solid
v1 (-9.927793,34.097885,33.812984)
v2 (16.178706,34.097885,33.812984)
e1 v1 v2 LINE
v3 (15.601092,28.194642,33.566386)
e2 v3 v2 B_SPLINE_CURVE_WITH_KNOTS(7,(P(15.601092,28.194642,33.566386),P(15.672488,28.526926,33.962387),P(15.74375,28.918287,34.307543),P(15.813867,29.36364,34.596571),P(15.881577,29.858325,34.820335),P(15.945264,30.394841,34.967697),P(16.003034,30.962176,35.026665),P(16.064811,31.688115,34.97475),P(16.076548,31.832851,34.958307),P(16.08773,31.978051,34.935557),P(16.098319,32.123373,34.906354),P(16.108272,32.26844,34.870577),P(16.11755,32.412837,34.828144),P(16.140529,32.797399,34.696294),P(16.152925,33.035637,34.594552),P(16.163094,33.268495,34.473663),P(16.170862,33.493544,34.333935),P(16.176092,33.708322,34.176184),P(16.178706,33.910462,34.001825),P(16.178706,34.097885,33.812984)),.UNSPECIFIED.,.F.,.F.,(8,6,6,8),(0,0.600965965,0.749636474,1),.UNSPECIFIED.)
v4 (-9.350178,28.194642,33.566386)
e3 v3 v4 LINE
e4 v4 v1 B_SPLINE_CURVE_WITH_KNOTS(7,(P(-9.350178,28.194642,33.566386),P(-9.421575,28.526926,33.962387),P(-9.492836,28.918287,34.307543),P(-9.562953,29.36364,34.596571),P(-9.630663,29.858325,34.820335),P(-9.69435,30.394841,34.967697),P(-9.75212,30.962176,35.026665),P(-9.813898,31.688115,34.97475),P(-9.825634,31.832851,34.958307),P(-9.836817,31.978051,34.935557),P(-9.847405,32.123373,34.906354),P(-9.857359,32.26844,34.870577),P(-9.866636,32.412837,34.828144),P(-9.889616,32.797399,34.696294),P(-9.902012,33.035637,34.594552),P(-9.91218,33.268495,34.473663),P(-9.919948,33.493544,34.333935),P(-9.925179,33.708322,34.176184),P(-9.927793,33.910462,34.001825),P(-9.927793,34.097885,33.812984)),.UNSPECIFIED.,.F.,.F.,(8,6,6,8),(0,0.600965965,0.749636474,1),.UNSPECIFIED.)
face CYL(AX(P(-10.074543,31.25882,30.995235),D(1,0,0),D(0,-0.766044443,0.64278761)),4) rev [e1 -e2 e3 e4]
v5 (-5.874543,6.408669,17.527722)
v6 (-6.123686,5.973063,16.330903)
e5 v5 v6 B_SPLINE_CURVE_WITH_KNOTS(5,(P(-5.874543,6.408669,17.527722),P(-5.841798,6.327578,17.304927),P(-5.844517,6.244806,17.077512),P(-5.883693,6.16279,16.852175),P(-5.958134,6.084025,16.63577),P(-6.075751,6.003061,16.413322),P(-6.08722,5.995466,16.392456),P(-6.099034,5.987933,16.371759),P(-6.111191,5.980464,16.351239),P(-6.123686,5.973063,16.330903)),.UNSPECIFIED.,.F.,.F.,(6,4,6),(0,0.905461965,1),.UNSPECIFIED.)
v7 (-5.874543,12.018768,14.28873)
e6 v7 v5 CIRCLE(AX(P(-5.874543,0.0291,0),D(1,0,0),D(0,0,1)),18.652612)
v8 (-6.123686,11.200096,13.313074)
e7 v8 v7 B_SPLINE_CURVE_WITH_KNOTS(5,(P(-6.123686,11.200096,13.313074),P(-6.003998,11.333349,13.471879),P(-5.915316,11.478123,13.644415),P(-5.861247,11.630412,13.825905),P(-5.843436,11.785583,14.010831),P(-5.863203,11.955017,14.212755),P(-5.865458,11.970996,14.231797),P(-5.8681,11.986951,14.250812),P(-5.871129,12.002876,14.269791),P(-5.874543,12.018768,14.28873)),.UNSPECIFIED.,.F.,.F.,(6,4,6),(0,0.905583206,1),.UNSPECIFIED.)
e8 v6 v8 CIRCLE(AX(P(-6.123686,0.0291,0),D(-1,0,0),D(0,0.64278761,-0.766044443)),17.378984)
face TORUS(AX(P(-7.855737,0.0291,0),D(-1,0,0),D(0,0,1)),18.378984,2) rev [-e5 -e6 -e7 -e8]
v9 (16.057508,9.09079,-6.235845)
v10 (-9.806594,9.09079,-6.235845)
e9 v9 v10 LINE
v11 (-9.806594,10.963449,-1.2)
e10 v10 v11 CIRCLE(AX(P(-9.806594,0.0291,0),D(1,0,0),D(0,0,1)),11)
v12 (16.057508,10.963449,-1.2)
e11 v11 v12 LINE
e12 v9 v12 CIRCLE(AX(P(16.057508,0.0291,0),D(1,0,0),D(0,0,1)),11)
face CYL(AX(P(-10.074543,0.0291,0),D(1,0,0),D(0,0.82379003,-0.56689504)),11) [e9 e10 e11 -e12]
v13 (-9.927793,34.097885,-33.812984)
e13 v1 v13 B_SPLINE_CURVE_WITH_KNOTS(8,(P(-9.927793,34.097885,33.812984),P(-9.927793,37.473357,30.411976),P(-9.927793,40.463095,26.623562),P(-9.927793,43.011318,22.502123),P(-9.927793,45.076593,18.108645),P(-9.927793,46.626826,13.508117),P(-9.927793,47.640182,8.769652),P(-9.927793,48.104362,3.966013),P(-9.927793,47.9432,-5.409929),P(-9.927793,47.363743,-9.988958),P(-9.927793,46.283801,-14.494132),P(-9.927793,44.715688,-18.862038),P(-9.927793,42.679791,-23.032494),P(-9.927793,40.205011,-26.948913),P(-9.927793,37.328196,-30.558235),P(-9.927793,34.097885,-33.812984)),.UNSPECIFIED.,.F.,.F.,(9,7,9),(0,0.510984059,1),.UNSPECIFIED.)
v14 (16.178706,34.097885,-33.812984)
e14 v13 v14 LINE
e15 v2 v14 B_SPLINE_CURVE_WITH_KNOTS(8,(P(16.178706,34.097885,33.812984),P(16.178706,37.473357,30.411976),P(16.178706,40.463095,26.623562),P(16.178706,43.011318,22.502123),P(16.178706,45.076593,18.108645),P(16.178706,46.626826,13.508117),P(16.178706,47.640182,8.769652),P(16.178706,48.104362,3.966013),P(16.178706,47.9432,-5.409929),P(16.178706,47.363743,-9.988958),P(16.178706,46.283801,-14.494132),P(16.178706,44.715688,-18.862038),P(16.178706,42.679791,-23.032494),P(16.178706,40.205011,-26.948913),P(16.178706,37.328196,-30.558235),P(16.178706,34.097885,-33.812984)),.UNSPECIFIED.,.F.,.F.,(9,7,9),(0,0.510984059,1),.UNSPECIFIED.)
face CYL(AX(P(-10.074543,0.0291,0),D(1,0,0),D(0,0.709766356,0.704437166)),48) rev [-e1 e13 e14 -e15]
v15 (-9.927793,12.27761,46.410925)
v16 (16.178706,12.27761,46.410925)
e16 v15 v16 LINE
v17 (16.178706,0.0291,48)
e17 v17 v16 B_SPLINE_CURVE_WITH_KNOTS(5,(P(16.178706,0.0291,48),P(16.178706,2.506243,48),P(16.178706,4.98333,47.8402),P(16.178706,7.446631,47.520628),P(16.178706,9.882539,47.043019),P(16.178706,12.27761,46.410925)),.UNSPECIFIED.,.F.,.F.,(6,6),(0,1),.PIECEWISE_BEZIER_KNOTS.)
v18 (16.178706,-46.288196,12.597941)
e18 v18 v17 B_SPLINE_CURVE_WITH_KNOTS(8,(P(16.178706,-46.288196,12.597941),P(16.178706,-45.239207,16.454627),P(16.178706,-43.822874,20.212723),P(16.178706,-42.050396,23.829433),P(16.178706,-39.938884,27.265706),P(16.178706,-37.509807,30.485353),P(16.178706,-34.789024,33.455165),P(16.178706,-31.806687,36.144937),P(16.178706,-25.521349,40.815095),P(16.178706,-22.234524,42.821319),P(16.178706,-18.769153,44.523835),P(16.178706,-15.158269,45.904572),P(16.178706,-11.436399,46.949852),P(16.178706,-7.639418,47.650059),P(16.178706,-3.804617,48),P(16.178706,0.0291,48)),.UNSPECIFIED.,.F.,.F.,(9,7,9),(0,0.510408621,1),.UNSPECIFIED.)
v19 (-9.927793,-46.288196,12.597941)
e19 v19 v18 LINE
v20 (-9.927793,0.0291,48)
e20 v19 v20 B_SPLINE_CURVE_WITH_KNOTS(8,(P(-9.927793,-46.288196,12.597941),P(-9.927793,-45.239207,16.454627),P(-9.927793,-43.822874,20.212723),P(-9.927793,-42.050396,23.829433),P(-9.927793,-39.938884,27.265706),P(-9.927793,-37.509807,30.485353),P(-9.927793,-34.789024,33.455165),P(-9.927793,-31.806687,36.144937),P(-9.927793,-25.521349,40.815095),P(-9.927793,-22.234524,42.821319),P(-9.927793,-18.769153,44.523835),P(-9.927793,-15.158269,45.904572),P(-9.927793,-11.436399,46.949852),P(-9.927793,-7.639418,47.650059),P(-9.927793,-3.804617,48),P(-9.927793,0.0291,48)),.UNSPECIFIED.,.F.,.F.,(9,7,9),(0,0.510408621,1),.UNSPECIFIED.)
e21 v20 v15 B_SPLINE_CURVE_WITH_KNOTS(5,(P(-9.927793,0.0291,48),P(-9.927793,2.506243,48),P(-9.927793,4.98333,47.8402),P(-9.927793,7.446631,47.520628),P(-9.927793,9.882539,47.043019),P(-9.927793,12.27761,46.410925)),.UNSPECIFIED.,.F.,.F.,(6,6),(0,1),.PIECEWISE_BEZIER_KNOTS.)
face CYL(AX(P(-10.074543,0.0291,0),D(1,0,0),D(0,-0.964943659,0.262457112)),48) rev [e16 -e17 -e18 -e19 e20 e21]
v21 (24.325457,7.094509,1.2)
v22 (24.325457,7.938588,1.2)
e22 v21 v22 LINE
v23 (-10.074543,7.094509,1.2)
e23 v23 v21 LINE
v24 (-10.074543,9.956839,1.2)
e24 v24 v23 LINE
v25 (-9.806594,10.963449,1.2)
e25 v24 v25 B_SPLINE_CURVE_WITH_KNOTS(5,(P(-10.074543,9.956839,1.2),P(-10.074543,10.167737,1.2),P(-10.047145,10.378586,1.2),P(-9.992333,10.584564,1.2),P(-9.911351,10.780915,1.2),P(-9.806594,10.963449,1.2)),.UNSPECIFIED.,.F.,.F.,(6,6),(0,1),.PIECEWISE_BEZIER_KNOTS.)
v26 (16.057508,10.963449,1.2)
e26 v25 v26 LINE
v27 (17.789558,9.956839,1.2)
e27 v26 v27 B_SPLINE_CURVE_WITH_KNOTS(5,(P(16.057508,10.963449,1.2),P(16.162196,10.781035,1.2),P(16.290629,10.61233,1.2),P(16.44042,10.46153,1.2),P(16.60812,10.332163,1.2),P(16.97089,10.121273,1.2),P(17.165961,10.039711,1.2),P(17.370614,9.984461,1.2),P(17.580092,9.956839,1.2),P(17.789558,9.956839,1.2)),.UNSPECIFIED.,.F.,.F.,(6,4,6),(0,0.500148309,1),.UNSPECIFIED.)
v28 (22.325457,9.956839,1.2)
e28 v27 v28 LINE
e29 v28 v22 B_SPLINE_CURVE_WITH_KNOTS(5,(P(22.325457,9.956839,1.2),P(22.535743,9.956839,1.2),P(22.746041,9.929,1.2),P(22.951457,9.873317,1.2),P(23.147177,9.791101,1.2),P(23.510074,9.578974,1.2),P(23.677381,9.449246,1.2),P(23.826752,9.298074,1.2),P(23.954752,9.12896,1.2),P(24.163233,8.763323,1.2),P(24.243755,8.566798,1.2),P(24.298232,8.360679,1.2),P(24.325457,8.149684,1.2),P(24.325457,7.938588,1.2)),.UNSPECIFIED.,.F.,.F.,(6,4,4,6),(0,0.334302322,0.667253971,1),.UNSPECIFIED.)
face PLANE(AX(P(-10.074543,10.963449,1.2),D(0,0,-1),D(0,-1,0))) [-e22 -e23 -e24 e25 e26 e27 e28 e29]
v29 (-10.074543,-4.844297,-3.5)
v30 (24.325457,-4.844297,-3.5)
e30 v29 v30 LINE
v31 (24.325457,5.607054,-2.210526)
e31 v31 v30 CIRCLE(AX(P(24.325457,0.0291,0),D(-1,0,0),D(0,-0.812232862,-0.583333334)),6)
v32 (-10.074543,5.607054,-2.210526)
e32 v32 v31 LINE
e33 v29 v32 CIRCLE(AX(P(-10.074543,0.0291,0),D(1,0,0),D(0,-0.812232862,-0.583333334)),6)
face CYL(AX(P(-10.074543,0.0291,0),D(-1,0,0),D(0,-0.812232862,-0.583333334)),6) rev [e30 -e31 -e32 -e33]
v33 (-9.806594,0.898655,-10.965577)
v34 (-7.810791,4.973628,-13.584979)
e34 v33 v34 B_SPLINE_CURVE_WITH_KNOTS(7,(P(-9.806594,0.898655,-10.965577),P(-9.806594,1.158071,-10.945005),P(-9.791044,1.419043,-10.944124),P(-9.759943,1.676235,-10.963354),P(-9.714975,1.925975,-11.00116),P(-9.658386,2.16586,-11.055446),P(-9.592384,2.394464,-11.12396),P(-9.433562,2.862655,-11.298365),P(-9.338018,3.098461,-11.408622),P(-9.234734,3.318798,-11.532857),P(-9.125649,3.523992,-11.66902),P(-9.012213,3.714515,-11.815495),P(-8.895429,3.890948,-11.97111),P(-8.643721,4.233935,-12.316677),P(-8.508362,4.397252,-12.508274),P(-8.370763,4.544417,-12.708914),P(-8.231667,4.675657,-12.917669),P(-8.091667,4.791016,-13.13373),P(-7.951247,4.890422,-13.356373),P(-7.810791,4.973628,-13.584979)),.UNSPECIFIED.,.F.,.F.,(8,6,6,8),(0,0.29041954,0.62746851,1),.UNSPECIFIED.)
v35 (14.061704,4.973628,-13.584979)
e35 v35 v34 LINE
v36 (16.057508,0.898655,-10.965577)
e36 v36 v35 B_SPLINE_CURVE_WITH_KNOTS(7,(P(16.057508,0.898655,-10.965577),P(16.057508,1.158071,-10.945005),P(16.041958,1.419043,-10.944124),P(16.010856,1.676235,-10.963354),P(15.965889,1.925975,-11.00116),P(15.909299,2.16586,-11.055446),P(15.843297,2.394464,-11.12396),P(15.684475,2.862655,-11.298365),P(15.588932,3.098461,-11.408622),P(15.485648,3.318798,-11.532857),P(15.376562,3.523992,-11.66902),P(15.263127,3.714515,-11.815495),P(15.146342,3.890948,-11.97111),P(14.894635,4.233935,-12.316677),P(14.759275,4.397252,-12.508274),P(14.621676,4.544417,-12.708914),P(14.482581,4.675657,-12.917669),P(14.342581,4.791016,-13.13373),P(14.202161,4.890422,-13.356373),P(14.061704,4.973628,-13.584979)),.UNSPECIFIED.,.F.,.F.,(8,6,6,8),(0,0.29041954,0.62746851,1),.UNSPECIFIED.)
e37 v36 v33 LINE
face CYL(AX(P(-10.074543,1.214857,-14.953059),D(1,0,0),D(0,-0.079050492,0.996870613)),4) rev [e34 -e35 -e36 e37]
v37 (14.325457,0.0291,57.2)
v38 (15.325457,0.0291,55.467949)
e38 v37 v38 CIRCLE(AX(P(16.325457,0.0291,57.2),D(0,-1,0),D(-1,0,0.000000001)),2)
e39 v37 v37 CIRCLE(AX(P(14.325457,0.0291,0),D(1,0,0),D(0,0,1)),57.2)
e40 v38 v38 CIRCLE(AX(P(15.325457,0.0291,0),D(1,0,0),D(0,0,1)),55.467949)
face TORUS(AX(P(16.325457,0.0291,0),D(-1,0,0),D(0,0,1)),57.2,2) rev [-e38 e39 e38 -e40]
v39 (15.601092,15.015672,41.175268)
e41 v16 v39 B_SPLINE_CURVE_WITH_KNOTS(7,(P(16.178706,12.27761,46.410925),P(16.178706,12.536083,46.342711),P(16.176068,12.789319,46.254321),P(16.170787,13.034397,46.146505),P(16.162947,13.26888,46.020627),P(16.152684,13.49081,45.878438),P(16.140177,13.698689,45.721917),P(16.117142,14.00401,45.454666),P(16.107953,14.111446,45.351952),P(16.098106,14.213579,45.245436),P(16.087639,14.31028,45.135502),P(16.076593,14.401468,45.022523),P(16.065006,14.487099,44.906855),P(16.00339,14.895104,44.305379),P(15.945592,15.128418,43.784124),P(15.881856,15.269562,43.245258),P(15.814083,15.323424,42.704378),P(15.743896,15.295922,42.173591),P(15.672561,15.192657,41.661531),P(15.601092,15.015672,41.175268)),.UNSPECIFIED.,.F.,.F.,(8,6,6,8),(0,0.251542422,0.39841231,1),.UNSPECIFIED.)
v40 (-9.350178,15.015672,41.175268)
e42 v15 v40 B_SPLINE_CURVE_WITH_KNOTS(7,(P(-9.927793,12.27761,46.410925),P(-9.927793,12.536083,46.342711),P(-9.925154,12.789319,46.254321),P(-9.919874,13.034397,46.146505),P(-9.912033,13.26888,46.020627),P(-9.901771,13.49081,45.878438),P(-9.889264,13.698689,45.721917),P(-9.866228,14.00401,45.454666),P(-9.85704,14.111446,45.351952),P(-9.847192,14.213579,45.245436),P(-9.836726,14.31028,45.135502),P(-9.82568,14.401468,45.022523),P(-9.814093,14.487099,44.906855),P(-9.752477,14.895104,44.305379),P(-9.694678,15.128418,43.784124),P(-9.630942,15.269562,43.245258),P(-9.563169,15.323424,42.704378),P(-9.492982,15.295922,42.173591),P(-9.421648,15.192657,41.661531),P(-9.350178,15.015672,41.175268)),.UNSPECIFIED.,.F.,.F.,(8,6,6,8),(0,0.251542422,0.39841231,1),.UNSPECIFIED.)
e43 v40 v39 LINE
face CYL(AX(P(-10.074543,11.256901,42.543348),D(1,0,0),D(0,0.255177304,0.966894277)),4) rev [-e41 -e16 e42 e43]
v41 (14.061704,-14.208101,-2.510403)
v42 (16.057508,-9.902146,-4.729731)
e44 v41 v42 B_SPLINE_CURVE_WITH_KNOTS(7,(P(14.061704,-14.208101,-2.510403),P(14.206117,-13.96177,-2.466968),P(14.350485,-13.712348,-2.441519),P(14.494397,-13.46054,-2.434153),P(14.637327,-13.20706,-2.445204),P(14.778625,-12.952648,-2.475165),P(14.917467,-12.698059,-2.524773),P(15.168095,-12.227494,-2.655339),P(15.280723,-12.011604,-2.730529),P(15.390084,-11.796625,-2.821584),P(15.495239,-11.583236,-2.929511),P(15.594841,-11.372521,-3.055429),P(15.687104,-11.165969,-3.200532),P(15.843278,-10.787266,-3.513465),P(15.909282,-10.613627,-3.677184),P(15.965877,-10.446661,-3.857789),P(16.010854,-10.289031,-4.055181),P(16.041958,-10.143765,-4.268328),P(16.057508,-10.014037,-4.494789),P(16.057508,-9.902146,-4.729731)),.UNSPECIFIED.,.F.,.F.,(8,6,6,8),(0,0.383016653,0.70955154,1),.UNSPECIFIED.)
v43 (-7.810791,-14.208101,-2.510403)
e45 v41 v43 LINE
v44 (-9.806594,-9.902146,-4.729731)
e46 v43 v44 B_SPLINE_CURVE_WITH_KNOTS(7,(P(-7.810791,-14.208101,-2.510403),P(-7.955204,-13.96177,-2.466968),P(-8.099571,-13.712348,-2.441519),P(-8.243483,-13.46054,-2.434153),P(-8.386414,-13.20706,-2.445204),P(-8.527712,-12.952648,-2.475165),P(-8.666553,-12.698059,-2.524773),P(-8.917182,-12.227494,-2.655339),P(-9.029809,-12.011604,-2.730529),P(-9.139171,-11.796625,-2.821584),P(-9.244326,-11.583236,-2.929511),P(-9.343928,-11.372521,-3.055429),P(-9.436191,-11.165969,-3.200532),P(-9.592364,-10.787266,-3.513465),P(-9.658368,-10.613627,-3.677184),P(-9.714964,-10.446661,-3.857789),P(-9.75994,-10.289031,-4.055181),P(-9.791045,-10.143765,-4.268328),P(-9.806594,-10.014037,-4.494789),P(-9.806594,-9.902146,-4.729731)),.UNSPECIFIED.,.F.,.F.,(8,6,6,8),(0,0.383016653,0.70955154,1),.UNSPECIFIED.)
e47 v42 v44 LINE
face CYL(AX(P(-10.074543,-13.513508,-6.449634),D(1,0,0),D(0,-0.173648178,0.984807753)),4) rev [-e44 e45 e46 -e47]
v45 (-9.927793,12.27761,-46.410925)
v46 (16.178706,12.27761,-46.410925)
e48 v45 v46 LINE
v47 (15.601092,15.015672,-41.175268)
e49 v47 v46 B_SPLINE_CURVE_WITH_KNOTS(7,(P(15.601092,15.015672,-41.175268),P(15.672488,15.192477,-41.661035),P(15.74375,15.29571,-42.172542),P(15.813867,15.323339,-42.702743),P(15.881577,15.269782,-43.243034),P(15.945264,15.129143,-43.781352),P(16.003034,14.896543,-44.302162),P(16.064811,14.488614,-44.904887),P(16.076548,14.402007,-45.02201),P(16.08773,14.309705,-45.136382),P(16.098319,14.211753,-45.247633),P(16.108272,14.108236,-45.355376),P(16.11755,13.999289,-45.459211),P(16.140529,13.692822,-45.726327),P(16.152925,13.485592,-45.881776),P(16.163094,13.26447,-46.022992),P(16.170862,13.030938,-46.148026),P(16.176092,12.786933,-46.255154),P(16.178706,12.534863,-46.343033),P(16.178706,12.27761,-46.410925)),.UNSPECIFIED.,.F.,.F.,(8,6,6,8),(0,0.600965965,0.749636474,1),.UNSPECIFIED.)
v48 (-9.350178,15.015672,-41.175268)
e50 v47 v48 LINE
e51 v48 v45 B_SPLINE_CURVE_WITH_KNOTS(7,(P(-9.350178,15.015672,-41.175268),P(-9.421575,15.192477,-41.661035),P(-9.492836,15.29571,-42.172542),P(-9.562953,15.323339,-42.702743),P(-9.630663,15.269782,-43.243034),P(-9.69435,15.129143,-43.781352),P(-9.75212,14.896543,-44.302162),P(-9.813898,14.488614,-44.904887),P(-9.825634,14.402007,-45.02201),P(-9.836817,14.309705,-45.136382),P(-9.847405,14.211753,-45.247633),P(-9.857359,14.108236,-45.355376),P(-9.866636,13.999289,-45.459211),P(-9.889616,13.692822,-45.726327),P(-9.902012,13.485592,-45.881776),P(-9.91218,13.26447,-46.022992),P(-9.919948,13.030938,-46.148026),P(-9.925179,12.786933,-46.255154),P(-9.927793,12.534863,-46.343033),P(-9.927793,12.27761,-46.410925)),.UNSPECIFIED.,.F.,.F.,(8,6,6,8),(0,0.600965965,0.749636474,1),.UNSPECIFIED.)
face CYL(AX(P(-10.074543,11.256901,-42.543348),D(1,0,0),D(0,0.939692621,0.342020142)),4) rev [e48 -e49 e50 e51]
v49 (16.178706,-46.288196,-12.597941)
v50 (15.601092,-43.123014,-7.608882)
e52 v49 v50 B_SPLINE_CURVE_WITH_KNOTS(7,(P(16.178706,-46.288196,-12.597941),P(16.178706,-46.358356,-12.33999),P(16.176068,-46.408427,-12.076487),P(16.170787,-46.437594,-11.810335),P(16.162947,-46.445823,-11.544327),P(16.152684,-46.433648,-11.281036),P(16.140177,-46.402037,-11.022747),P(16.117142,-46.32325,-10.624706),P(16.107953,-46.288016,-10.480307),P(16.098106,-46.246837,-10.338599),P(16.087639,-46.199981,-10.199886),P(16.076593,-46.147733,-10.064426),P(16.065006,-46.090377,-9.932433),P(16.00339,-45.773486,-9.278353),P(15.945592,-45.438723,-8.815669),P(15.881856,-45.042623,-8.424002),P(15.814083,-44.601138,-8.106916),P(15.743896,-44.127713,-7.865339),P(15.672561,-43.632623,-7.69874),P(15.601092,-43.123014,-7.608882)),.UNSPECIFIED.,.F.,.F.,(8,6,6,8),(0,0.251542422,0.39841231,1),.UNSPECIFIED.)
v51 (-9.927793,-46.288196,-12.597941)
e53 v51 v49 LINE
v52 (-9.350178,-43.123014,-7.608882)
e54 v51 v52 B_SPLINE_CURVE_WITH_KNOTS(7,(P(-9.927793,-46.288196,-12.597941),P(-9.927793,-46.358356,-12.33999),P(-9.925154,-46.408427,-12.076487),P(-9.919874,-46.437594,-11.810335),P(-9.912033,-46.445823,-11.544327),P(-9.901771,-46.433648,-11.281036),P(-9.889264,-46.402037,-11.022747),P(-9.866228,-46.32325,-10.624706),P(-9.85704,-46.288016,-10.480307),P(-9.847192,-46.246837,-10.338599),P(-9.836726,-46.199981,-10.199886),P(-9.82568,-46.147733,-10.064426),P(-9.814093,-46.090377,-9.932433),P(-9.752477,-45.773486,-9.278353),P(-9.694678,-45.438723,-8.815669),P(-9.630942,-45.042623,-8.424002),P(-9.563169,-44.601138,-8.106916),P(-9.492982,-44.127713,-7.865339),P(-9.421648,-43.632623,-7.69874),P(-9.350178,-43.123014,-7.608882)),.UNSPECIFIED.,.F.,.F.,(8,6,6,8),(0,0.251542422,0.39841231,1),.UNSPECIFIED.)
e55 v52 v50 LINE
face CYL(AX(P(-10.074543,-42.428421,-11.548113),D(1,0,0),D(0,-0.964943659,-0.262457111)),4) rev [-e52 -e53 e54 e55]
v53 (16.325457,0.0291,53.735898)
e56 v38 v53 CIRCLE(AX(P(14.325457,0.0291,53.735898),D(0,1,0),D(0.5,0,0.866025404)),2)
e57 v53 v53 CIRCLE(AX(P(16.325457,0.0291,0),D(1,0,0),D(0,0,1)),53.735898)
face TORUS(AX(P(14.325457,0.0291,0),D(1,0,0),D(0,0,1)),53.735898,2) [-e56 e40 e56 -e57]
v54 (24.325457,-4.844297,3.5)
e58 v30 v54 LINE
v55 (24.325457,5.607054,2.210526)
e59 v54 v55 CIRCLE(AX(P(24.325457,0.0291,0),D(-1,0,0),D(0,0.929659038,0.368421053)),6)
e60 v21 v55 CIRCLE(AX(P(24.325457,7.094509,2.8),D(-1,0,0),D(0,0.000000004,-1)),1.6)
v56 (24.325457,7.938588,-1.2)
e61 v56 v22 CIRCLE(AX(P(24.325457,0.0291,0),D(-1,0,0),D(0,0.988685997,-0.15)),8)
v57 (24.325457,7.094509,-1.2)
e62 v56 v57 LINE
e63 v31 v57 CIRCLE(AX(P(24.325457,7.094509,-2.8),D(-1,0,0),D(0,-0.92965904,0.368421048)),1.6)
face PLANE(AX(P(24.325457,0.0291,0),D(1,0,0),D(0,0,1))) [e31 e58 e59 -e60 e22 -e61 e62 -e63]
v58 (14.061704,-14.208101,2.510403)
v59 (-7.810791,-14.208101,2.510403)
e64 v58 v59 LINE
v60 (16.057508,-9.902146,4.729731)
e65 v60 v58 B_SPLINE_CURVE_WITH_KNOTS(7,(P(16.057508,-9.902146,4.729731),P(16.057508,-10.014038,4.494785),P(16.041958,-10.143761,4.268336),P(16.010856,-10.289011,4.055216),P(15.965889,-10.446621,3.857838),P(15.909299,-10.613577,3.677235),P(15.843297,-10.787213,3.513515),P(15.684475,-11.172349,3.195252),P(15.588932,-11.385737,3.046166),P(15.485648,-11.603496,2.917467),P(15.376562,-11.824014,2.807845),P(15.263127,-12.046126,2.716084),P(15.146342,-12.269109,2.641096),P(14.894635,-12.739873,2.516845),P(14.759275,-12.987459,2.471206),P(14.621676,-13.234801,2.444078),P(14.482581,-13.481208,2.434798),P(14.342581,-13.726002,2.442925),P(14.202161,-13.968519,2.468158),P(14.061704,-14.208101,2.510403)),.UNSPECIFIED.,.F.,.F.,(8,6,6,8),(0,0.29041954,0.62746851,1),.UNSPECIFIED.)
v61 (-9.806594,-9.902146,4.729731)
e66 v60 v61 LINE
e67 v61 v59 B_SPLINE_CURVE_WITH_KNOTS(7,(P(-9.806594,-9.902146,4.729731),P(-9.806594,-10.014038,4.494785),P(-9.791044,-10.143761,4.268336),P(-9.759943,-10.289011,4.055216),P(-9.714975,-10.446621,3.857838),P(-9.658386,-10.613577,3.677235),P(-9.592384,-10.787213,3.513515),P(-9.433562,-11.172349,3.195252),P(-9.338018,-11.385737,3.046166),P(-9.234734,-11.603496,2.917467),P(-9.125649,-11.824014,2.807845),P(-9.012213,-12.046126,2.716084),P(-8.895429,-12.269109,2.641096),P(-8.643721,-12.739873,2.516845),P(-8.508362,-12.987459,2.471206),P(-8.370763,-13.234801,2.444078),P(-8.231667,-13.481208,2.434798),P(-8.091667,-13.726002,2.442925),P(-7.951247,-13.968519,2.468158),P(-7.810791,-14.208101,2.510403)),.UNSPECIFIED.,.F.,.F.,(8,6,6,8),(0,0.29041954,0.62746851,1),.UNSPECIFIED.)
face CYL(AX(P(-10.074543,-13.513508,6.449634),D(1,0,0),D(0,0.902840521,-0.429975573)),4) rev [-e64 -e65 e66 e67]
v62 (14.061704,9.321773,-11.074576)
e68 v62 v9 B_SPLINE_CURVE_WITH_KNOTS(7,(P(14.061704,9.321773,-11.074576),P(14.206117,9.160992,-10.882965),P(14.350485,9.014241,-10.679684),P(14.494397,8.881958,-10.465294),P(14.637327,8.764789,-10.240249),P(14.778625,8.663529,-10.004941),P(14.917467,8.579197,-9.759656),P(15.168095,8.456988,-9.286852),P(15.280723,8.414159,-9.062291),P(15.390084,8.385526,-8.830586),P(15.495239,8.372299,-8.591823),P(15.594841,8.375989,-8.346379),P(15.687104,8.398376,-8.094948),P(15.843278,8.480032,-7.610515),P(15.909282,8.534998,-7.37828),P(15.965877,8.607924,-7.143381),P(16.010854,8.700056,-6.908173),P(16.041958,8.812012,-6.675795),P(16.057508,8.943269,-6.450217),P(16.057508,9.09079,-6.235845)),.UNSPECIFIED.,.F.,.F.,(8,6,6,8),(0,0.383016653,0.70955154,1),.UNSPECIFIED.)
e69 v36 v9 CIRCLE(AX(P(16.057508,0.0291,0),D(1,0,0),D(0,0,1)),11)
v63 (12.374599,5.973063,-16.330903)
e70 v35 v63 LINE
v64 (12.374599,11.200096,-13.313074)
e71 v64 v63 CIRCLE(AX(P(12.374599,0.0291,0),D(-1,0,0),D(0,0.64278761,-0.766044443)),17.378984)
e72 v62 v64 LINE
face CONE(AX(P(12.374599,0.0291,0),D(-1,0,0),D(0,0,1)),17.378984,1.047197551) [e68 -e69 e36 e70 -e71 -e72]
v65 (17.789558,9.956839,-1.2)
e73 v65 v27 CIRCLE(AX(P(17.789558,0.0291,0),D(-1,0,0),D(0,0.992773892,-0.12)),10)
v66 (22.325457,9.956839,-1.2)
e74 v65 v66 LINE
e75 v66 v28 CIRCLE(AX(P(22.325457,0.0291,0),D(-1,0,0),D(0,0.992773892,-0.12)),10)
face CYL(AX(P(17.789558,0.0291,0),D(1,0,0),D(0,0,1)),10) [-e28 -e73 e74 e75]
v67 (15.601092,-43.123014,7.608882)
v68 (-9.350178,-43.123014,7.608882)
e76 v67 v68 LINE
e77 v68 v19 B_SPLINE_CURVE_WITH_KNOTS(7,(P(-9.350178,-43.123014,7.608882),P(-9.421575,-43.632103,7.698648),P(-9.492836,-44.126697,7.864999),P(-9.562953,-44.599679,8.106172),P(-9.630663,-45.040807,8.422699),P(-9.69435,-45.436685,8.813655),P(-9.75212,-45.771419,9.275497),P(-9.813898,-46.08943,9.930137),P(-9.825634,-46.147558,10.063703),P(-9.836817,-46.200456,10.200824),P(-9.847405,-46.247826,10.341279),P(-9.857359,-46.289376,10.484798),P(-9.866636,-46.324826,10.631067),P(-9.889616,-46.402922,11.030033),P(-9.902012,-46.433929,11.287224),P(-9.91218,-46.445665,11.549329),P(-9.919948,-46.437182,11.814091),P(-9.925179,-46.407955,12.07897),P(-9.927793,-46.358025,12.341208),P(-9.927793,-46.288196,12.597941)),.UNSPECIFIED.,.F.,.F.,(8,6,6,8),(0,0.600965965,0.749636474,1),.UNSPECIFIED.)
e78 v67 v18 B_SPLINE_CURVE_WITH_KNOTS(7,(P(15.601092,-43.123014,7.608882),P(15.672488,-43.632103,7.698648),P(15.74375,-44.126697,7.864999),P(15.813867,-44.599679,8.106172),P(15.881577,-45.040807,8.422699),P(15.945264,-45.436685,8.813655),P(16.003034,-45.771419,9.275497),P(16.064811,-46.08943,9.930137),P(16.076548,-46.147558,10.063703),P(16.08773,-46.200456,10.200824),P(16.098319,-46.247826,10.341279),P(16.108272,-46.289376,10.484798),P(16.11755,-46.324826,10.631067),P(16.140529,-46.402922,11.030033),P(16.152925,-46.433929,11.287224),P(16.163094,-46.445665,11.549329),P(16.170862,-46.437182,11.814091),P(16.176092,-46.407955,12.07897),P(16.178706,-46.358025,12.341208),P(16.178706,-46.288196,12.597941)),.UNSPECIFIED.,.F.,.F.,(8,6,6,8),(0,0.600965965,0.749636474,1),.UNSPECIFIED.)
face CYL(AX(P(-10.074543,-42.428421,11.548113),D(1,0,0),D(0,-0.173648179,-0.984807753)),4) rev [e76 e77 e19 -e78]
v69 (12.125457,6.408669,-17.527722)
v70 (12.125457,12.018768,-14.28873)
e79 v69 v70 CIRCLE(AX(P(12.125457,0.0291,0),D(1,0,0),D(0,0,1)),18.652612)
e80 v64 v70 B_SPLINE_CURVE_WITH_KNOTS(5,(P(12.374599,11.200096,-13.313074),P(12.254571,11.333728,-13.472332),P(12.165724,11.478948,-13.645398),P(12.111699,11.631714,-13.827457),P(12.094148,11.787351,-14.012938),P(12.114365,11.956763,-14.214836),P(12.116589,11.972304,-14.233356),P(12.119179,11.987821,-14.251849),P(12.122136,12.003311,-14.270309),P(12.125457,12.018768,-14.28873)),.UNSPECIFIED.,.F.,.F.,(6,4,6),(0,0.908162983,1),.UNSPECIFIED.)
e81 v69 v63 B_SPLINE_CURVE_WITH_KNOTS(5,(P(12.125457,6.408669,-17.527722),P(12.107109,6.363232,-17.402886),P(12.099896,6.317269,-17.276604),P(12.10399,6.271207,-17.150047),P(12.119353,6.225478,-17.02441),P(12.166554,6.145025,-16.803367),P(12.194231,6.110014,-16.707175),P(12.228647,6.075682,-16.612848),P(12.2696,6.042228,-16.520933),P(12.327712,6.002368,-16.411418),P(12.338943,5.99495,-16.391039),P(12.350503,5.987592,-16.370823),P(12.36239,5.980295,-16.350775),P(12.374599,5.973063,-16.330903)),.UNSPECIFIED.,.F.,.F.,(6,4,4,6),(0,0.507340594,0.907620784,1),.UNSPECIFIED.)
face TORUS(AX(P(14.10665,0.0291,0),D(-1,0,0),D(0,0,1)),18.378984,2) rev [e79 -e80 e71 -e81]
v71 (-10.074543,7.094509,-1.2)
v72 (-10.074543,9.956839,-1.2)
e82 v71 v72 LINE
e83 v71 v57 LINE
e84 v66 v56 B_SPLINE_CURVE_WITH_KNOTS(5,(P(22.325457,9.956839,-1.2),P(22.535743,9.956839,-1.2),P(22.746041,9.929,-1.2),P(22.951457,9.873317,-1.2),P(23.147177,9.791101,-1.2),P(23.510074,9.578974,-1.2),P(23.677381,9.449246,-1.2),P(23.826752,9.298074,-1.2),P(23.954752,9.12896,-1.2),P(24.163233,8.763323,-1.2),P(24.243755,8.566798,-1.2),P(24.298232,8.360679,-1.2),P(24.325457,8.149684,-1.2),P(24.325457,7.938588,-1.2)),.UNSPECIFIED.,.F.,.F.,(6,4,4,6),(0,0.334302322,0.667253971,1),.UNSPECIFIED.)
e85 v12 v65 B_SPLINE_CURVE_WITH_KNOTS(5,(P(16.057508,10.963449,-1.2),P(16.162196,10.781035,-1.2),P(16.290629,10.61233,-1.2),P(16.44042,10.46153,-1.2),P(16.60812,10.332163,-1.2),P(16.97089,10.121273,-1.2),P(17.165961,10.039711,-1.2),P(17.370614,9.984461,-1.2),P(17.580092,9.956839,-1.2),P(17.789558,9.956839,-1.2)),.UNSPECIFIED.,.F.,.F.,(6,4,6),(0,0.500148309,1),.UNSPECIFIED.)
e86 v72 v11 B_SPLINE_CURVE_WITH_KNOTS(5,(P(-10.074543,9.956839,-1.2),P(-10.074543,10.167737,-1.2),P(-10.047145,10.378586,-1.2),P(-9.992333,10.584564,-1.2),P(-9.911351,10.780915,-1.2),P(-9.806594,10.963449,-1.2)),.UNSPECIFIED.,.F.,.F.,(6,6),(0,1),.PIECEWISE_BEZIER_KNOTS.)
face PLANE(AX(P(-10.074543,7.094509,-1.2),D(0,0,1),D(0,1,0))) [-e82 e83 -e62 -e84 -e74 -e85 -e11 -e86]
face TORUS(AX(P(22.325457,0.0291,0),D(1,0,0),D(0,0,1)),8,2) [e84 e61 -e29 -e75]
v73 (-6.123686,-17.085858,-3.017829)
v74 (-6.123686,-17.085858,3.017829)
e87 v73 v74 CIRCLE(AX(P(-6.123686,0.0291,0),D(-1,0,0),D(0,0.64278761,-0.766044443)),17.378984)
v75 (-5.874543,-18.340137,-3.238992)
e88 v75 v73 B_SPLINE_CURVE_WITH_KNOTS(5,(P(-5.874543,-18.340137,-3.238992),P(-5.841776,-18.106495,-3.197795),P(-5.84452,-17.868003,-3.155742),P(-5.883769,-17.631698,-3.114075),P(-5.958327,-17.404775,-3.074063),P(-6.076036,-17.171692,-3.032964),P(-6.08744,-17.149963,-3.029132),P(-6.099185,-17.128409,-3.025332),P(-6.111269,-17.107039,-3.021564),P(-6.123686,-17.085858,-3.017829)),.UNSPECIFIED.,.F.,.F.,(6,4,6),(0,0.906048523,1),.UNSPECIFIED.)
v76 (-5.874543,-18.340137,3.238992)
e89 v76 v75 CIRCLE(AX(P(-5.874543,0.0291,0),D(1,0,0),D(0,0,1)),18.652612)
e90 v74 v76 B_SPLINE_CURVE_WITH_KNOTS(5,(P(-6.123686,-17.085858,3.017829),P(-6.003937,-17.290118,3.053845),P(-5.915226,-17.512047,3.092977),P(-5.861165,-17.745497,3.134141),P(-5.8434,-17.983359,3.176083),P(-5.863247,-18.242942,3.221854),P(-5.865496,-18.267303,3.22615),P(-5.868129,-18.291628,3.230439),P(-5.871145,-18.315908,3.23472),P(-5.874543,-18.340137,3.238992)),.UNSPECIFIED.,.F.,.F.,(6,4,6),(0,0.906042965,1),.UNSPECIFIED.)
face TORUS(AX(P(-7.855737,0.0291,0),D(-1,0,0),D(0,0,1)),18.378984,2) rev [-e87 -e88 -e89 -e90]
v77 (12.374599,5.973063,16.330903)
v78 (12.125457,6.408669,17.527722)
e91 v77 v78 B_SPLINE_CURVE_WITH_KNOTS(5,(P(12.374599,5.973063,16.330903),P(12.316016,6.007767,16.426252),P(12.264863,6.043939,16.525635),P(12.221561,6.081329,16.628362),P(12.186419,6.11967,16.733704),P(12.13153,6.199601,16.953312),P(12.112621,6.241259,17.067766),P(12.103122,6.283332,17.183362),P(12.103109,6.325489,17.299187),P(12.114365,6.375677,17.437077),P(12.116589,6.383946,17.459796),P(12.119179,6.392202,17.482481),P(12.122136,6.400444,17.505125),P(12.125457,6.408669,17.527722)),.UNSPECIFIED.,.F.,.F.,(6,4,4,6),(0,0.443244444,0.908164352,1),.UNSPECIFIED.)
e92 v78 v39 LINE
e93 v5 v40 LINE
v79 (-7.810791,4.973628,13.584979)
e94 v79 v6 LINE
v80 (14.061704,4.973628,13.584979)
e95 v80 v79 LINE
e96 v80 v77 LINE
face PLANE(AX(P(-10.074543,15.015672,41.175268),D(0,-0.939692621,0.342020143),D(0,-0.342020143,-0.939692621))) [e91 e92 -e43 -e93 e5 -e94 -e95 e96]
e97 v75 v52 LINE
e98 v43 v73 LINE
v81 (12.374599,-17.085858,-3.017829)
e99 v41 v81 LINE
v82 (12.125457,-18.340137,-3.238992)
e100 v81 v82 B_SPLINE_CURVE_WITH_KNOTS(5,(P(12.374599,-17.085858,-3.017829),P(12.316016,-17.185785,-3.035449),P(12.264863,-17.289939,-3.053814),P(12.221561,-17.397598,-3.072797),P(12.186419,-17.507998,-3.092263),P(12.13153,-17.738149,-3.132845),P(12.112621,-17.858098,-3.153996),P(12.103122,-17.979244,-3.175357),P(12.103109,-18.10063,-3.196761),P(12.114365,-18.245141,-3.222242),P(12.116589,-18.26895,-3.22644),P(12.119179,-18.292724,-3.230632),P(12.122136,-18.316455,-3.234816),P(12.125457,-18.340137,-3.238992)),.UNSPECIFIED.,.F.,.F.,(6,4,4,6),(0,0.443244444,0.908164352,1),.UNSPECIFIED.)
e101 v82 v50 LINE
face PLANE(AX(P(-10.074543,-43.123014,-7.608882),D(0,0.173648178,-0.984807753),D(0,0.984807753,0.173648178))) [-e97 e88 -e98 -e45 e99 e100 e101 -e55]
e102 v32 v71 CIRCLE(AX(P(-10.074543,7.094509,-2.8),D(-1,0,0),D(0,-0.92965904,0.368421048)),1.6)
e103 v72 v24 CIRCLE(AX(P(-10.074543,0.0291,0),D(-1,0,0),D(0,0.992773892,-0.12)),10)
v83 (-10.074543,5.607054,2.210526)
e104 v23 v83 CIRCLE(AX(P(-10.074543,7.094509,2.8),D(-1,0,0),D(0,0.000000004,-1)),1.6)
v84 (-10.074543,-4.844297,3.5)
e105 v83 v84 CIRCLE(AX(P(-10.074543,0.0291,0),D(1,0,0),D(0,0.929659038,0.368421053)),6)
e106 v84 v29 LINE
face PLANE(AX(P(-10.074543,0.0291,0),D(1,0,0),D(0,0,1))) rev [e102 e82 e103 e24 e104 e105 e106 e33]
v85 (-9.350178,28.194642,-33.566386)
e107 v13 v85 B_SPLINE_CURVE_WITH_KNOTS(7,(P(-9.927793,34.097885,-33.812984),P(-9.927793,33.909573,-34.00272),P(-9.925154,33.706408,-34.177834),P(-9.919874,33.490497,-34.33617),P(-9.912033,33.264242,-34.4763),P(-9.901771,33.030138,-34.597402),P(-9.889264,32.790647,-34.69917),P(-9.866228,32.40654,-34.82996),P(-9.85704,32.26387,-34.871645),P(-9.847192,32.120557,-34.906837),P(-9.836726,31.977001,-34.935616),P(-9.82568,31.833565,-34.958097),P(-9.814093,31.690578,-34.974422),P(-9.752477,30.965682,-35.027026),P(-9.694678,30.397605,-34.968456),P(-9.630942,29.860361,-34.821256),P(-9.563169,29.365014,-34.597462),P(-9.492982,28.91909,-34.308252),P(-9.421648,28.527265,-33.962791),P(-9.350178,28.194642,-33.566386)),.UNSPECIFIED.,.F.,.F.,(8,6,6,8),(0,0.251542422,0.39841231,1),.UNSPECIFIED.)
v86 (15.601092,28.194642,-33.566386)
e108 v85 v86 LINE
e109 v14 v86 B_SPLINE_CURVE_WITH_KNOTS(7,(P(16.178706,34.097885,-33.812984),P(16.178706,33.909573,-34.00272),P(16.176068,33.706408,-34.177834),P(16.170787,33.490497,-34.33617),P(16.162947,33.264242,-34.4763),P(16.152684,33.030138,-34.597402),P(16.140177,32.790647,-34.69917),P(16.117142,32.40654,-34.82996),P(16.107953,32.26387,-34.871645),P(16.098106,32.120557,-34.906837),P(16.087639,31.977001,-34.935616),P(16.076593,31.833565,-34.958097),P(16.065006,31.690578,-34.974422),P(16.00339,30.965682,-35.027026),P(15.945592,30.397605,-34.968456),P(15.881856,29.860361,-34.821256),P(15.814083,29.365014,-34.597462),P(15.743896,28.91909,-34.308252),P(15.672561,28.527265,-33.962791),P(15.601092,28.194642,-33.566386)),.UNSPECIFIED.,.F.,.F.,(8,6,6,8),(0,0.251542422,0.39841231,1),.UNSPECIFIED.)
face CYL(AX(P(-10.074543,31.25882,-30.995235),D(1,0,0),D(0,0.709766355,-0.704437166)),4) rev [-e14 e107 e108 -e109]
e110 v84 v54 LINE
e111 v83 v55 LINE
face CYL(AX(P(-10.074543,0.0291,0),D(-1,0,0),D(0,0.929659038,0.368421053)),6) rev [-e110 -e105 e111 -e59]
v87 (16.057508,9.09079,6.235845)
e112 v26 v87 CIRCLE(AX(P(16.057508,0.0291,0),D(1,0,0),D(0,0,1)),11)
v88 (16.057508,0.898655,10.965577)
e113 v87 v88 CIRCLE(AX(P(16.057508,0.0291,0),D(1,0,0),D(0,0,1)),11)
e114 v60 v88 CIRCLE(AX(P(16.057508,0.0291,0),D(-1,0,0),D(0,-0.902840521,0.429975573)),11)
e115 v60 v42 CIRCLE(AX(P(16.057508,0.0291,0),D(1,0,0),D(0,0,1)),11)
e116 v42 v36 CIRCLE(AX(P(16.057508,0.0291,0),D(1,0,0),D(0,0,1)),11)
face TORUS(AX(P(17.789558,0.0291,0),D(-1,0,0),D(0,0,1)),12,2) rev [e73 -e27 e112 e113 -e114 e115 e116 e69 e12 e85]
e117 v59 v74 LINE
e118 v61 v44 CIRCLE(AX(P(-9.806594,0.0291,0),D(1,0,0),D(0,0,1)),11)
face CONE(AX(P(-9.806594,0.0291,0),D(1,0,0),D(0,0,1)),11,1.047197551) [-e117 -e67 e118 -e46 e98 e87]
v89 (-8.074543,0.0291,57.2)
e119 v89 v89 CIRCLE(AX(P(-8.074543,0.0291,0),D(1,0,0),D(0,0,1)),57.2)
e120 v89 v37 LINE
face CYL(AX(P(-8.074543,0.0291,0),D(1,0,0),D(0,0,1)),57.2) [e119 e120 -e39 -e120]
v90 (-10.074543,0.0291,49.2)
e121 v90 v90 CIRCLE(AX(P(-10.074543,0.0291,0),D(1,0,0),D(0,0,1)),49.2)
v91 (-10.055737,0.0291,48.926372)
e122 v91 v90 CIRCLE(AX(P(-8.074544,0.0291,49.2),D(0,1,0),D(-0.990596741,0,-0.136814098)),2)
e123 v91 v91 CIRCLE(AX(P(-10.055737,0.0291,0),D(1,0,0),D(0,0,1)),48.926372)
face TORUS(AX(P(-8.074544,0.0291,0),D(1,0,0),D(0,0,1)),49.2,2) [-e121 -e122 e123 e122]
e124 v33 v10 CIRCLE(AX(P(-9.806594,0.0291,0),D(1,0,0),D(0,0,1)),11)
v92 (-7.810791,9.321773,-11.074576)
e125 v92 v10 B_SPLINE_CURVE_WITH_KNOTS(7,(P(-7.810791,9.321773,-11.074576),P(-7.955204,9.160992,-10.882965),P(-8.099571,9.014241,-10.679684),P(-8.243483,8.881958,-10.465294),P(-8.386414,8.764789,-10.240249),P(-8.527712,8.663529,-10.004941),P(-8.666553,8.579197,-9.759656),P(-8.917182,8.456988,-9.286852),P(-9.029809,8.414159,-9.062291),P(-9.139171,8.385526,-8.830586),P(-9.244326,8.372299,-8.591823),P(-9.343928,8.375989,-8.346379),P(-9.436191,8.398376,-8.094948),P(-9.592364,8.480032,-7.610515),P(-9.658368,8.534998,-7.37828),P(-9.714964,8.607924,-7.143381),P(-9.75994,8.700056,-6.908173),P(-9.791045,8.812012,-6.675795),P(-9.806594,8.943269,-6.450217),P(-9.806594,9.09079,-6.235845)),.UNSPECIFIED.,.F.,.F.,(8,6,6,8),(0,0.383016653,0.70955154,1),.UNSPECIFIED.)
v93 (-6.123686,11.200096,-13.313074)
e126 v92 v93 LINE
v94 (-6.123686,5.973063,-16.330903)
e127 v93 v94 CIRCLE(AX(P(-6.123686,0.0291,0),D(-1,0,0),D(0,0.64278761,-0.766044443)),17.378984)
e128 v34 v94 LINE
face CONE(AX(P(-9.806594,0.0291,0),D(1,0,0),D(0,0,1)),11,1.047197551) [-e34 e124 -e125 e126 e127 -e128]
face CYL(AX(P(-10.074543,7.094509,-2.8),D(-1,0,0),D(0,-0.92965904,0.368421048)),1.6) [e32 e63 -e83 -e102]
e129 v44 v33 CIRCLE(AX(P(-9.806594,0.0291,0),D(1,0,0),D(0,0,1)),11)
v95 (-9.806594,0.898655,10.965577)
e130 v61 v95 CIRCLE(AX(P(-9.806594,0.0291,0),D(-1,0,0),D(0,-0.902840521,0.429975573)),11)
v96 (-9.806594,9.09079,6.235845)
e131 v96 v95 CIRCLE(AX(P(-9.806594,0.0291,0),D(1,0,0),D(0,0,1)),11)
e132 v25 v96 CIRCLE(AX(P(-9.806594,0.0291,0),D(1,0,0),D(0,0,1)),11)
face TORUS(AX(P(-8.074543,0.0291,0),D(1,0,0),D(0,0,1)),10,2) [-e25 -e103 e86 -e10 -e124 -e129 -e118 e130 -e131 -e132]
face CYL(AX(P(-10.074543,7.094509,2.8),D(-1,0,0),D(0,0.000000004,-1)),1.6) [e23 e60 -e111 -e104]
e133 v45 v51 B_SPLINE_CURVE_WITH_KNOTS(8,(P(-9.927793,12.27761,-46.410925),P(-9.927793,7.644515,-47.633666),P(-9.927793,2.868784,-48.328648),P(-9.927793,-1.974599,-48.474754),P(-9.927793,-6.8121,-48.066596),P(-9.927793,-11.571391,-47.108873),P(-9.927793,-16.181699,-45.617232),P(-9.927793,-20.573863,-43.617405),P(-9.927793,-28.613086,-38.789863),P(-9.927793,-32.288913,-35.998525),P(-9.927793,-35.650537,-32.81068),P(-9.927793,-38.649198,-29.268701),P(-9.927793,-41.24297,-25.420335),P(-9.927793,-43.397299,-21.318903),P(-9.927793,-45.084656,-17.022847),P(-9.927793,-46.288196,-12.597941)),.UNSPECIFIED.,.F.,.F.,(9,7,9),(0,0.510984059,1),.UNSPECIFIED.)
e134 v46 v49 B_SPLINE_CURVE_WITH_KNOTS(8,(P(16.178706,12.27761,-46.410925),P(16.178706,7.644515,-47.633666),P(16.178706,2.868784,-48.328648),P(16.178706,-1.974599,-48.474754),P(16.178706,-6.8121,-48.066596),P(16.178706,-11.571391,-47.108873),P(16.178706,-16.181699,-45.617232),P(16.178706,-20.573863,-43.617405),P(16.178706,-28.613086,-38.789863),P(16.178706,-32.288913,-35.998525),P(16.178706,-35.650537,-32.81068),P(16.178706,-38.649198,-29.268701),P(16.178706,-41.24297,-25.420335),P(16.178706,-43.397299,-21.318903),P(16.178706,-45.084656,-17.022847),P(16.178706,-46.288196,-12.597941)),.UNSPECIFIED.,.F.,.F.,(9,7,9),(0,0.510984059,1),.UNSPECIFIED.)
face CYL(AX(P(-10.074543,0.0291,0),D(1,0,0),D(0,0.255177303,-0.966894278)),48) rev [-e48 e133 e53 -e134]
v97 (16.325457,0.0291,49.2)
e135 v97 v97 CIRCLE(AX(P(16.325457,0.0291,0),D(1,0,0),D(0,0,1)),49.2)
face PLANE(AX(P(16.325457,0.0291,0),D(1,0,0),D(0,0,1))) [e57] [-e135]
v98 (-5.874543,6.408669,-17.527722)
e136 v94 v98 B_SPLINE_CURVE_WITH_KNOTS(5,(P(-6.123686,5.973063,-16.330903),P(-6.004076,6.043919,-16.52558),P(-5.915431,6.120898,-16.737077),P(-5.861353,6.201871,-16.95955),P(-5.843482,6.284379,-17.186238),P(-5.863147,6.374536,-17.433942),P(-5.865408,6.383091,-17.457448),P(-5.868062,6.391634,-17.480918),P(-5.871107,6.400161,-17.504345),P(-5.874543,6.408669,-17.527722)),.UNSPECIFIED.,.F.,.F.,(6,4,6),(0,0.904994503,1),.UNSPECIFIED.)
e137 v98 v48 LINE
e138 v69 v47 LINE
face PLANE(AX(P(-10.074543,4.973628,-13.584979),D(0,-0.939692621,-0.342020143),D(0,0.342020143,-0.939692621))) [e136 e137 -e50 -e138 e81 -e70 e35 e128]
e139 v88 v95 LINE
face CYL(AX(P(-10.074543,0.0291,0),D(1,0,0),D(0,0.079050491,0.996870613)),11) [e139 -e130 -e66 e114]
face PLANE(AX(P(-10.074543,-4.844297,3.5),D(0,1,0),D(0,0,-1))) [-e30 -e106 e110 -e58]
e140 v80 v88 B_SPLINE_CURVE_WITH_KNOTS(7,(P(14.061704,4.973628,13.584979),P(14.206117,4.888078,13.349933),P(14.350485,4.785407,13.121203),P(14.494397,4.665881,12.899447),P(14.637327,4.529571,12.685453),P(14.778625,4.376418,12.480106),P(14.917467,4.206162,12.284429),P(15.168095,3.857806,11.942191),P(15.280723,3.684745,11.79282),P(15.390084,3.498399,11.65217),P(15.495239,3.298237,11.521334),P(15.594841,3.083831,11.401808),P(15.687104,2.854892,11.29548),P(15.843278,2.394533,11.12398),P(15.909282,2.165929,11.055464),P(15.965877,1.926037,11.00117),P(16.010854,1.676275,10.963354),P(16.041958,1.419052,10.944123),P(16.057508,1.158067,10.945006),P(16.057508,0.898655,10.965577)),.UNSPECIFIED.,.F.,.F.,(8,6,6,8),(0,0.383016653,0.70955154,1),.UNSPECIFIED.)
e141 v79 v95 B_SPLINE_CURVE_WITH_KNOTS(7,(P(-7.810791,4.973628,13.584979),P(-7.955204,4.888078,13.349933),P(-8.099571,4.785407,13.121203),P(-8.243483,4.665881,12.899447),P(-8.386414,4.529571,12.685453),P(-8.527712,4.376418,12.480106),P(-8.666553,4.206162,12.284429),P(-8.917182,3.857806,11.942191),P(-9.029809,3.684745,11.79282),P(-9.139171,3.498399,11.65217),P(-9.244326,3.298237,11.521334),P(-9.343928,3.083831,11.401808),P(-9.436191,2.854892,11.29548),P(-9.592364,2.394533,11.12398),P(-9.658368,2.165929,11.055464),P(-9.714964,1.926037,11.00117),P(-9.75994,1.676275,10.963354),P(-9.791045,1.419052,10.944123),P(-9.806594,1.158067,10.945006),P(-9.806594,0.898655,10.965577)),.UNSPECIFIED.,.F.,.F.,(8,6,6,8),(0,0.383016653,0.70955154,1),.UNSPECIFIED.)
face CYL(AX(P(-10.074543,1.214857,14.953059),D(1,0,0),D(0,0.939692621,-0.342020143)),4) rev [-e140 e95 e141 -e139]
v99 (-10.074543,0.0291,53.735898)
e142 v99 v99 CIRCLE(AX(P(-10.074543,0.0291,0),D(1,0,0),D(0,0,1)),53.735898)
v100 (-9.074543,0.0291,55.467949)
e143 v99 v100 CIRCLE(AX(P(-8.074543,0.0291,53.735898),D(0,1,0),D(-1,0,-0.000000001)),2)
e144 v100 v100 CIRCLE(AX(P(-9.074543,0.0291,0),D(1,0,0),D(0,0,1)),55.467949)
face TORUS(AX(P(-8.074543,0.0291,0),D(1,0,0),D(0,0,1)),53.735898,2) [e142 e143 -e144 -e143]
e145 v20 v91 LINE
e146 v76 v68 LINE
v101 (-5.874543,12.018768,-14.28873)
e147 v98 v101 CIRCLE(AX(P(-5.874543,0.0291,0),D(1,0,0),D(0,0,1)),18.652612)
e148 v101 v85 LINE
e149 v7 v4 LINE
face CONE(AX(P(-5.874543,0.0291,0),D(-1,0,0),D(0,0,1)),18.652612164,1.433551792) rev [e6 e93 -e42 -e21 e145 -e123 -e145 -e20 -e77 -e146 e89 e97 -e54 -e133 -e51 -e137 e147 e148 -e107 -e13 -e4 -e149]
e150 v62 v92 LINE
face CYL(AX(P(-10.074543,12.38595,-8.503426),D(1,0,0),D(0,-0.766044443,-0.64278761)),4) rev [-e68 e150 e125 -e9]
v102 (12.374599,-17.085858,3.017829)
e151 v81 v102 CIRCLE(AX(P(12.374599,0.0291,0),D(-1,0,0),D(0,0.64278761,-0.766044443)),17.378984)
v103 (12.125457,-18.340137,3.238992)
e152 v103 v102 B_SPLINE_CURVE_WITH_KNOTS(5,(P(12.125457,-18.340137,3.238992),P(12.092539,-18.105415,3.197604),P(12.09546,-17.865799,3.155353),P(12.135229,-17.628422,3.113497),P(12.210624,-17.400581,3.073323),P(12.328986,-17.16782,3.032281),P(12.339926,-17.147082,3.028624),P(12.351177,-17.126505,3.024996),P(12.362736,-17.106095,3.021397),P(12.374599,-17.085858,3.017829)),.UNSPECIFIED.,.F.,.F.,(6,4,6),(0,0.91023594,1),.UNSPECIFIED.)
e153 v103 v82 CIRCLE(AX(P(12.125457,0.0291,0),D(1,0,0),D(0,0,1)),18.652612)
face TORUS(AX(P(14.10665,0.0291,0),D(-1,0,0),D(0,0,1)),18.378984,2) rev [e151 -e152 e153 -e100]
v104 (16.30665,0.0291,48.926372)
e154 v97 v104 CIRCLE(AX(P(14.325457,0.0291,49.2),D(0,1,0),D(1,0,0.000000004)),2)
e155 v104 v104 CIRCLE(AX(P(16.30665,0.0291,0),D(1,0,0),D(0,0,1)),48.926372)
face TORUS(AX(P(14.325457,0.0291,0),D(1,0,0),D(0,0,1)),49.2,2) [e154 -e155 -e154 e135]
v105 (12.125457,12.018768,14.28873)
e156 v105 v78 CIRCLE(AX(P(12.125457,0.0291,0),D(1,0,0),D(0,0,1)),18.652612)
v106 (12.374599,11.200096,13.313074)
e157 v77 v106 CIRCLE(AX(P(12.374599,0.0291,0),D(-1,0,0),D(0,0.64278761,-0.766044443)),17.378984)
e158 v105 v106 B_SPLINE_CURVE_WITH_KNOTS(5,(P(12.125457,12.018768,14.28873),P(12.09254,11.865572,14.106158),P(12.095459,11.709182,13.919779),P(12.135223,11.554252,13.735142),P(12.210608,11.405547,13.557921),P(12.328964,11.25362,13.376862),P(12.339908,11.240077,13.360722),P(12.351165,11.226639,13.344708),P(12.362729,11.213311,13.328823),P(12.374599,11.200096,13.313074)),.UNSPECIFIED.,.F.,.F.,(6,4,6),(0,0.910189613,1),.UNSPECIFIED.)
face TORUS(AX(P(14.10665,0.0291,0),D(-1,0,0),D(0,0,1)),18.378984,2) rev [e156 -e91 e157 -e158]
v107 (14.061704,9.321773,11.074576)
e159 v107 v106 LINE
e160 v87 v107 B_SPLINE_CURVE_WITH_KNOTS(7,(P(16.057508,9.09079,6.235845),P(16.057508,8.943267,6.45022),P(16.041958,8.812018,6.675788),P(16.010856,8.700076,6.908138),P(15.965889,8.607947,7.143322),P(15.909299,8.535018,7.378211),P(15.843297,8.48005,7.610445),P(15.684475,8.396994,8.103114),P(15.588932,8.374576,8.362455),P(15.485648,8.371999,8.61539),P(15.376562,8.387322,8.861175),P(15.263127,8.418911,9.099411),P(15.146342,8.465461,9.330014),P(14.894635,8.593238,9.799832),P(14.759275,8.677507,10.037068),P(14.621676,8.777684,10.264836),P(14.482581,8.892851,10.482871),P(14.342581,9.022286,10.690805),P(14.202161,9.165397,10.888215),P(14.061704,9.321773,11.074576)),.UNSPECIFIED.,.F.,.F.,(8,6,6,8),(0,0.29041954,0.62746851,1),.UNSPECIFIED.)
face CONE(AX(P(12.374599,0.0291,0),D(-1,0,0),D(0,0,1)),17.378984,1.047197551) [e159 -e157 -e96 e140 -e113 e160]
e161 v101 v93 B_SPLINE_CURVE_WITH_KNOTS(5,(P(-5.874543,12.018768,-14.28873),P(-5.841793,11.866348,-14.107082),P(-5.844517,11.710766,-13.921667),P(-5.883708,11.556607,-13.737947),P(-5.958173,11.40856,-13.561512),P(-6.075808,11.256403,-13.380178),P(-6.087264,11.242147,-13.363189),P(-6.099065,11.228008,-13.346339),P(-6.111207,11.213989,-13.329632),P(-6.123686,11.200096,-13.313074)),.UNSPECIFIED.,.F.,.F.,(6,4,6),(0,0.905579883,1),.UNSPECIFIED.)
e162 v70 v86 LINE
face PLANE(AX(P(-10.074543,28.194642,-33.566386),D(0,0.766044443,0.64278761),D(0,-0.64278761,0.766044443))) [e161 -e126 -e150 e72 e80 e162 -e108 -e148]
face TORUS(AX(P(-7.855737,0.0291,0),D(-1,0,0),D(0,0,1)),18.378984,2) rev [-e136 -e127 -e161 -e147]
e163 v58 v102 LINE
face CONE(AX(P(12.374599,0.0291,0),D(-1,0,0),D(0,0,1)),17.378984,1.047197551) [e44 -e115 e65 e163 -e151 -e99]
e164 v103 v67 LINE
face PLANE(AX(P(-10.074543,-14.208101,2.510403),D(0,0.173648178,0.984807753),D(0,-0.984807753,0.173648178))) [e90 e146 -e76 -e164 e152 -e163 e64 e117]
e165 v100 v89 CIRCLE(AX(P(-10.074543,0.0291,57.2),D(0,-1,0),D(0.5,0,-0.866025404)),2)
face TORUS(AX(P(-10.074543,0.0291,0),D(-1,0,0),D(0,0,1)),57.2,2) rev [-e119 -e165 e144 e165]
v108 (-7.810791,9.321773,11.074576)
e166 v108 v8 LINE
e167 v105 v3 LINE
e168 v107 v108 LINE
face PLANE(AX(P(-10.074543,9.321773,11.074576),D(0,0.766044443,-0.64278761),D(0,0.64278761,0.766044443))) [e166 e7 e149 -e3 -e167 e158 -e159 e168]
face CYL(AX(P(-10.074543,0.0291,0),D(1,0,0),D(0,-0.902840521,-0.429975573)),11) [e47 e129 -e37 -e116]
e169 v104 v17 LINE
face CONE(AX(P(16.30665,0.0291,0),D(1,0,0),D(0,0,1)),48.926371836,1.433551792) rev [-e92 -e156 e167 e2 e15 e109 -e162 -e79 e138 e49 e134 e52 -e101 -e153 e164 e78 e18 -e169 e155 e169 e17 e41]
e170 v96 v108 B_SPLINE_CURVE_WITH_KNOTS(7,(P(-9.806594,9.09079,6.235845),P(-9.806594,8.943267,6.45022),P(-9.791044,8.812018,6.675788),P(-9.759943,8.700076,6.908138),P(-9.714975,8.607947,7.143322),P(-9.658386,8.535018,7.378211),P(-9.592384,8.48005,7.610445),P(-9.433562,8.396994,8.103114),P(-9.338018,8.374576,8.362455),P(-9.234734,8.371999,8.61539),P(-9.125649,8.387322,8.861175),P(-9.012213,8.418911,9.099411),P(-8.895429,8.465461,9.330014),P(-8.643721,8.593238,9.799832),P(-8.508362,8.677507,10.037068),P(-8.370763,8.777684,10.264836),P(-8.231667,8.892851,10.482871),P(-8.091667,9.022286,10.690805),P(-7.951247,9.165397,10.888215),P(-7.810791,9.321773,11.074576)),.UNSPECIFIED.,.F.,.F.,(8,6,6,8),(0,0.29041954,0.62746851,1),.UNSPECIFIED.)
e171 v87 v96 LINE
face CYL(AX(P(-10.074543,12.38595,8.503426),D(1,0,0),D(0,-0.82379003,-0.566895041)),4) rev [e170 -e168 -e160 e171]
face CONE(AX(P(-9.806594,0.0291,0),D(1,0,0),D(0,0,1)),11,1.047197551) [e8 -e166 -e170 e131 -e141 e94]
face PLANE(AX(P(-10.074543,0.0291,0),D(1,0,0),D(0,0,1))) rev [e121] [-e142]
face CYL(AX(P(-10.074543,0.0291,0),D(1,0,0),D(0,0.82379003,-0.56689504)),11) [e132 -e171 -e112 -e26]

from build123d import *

# Parameters (mm, degrees)
CUT_EXTRUDE2_DEPTH = 22.975895886
CIRPATTERN1_COUNT  = 3
CUT_EXTRUDE3_DEPTH = 22.975895886
SCALE1_SCALE       = 4


with BuildPart() as part:
    # Sketch1 → Revolve1 (revolve)
    with BuildSketch(Plane(origin=(0, 0, 0), x_dir=(1, 0, 0), z_dir=(0, 1, 0)), mode=Mode.PRIVATE) as revolve1_sk:
        with BuildLine():
            Line((0, 0), (0, 2.5))
            ThreePointArc((0, 2.5), (0.017037087, 2.629409523), (0.066987298, 2.75))
            Line((0.066987298, 2.75), (0.98771433, 4.344746))
            ThreePointArc((0.98771433, 4.344746), (1.045401255, 4.498757059), (1.05, 4.663153041))
            Line((1.05, 4.663153041), (0.004701629, 12.231592959))
            ThreePointArc((0.004701629, 12.231592959), (0.001176792, 12.265715789), (0, 12.3))
            Line((0, 12.3), (0, 13.433974596))
            ThreePointArc((0, 13.433974596), (0.066987298, 13.683974596), (0.25, 13.866987298))
            ThreePointArc((0.25, 13.866987298), (0.433012702, 14.05), (0.5, 14.3))
            Line((0.5, 14.3), (6.1, 14.3))
            ThreePointArc((6.1, 14.3), (6.166987298, 14.05), (6.35, 13.866987298))
            ThreePointArc((6.35, 13.866987298), (6.533012702, 13.683974596), (6.6, 13.433974596))
            Line((6.6, 13.433974596), (6.6, 12.3))
            ThreePointArc((6.6, 12.3), (6.598823208, 12.265715789), (6.595298371, 12.231592959))
            Line((6.595298371, 12.231592959), (5.55, 4.663153041))
            ThreePointArc((5.55, 4.663153041), (5.554598745, 4.498757059), (5.61228567, 4.344746))
            Line((5.61228567, 4.344746), (6.533012702, 2.75))
            ThreePointArc((6.533012702, 2.75), (6.716025404, 2.566987298), (6.966025404, 2.5))
            Line((6.966025404, 2.5), (8.1, 2.5))
            ThreePointArc((8.1, 2.5), (8.453553391, 2.353553391), (8.6, 2))
            Line((8.6, 2), (8.6, 0))
            Line((8.6, 0), (0, 0))
        make_face()
    revolve(revolve1_sk.sketch.rotate(Axis((0, 0, 0), (1, 0, 0)), 180), axis=Axis((0, 0, 0), (1, 0, 0)))

    # Sketch2 → Cut-Extrude2 (cut, symmetric)
    with BuildSketch(Plane(origin=(0, 0, 0), x_dir=(0, 0, -1), z_dir=(1, 0, 0))):
        with BuildLine():
            Line((8.391596431, 7.04138547), (2.768644011, 2.323168169))
            ThreePointArc((2.768644011, 2.323168169), (2.17353825, 2.090350038), (1.558961361, 2.265422582))
            ThreePointArc((1.558961361, 2.265422582), (0, 2.75), (-1.558961361, 2.265422582))
            ThreePointArc((-1.558961361, 2.265422582), (-2.17353825, 2.090350038), (-2.768644011, 2.323168169))
            Line((-2.768644011, 2.323168169), (-8.391596431, 7.04138547))
            ThreePointArc((-8.391596431, 7.04138547), (-8.747937455, 7.765692967), (-8.453245987, 8.517196269))
            ThreePointArc((-8.453245987, 8.517196269), (0, 12), (8.453245987, 8.517196269))
            ThreePointArc((8.453245987, 8.517196269), (8.747937455, 7.765692967), (8.391596431, 7.04138547))
        make_face()
    cut_extrude2 = extrude(amount=CUT_EXTRUDE2_DEPTH, both=True, mode=Mode.SUBTRACT)

    # CirPattern1: Cut-Extrude2 ×3 about axis
    cirpattern1_axis = Axis((0, 0, 0), (1, 0, 0))
    for i in range(1, CIRPATTERN1_COUNT):
        add(cut_extrude2.rotate(cirpattern1_axis, i * 360 / CIRPATTERN1_COUNT), mode=Mode.SUBTRACT)

    # Sketch3 → Cut-Extrude3 (cut, through all)
    with BuildSketch(Plane.ZY):
        with BuildLine():
            Line((0.875, -1.218349293), (-0.875, -1.218349293))
            ThreePointArc((-0.875, -1.218349293), (-1.48871199, 0.183675284), (-0.552631579, 1.394488558))
            ThreePointArc((-0.552631579, 1.394488558), (-0.369131923, 1.541571578), (-0.3, 1.766352173))
            Line((-0.3, 1.766352173), (-0.3, 2.733587387))
            ThreePointArc((-0.3, 2.733587387), (0, 2.75), (0.3, 2.733587387))
            Line((0.3, 2.733587387), (0.3, 1.766352173))
            ThreePointArc((0.3, 1.766352173), (0.369131923, 1.541571578), (0.552631579, 1.394488558))
            ThreePointArc((0.552631579, 1.394488558), (1.48871199, 0.183675284), (0.875, -1.218349293))
        make_face()
    extrude(amount=-CUT_EXTRUDE3_DEPTH, mode=Mode.SUBTRACT)


with BuildPart() as part_1:
    # Scale1: scaled about (3.358181092, -0.009699982, 3e-09)
    add(part.part.scale(SCALE1_SCALE).moved(Location((-10.074543276, 0.029099946, -9e-09))))


solid = part_1.part
